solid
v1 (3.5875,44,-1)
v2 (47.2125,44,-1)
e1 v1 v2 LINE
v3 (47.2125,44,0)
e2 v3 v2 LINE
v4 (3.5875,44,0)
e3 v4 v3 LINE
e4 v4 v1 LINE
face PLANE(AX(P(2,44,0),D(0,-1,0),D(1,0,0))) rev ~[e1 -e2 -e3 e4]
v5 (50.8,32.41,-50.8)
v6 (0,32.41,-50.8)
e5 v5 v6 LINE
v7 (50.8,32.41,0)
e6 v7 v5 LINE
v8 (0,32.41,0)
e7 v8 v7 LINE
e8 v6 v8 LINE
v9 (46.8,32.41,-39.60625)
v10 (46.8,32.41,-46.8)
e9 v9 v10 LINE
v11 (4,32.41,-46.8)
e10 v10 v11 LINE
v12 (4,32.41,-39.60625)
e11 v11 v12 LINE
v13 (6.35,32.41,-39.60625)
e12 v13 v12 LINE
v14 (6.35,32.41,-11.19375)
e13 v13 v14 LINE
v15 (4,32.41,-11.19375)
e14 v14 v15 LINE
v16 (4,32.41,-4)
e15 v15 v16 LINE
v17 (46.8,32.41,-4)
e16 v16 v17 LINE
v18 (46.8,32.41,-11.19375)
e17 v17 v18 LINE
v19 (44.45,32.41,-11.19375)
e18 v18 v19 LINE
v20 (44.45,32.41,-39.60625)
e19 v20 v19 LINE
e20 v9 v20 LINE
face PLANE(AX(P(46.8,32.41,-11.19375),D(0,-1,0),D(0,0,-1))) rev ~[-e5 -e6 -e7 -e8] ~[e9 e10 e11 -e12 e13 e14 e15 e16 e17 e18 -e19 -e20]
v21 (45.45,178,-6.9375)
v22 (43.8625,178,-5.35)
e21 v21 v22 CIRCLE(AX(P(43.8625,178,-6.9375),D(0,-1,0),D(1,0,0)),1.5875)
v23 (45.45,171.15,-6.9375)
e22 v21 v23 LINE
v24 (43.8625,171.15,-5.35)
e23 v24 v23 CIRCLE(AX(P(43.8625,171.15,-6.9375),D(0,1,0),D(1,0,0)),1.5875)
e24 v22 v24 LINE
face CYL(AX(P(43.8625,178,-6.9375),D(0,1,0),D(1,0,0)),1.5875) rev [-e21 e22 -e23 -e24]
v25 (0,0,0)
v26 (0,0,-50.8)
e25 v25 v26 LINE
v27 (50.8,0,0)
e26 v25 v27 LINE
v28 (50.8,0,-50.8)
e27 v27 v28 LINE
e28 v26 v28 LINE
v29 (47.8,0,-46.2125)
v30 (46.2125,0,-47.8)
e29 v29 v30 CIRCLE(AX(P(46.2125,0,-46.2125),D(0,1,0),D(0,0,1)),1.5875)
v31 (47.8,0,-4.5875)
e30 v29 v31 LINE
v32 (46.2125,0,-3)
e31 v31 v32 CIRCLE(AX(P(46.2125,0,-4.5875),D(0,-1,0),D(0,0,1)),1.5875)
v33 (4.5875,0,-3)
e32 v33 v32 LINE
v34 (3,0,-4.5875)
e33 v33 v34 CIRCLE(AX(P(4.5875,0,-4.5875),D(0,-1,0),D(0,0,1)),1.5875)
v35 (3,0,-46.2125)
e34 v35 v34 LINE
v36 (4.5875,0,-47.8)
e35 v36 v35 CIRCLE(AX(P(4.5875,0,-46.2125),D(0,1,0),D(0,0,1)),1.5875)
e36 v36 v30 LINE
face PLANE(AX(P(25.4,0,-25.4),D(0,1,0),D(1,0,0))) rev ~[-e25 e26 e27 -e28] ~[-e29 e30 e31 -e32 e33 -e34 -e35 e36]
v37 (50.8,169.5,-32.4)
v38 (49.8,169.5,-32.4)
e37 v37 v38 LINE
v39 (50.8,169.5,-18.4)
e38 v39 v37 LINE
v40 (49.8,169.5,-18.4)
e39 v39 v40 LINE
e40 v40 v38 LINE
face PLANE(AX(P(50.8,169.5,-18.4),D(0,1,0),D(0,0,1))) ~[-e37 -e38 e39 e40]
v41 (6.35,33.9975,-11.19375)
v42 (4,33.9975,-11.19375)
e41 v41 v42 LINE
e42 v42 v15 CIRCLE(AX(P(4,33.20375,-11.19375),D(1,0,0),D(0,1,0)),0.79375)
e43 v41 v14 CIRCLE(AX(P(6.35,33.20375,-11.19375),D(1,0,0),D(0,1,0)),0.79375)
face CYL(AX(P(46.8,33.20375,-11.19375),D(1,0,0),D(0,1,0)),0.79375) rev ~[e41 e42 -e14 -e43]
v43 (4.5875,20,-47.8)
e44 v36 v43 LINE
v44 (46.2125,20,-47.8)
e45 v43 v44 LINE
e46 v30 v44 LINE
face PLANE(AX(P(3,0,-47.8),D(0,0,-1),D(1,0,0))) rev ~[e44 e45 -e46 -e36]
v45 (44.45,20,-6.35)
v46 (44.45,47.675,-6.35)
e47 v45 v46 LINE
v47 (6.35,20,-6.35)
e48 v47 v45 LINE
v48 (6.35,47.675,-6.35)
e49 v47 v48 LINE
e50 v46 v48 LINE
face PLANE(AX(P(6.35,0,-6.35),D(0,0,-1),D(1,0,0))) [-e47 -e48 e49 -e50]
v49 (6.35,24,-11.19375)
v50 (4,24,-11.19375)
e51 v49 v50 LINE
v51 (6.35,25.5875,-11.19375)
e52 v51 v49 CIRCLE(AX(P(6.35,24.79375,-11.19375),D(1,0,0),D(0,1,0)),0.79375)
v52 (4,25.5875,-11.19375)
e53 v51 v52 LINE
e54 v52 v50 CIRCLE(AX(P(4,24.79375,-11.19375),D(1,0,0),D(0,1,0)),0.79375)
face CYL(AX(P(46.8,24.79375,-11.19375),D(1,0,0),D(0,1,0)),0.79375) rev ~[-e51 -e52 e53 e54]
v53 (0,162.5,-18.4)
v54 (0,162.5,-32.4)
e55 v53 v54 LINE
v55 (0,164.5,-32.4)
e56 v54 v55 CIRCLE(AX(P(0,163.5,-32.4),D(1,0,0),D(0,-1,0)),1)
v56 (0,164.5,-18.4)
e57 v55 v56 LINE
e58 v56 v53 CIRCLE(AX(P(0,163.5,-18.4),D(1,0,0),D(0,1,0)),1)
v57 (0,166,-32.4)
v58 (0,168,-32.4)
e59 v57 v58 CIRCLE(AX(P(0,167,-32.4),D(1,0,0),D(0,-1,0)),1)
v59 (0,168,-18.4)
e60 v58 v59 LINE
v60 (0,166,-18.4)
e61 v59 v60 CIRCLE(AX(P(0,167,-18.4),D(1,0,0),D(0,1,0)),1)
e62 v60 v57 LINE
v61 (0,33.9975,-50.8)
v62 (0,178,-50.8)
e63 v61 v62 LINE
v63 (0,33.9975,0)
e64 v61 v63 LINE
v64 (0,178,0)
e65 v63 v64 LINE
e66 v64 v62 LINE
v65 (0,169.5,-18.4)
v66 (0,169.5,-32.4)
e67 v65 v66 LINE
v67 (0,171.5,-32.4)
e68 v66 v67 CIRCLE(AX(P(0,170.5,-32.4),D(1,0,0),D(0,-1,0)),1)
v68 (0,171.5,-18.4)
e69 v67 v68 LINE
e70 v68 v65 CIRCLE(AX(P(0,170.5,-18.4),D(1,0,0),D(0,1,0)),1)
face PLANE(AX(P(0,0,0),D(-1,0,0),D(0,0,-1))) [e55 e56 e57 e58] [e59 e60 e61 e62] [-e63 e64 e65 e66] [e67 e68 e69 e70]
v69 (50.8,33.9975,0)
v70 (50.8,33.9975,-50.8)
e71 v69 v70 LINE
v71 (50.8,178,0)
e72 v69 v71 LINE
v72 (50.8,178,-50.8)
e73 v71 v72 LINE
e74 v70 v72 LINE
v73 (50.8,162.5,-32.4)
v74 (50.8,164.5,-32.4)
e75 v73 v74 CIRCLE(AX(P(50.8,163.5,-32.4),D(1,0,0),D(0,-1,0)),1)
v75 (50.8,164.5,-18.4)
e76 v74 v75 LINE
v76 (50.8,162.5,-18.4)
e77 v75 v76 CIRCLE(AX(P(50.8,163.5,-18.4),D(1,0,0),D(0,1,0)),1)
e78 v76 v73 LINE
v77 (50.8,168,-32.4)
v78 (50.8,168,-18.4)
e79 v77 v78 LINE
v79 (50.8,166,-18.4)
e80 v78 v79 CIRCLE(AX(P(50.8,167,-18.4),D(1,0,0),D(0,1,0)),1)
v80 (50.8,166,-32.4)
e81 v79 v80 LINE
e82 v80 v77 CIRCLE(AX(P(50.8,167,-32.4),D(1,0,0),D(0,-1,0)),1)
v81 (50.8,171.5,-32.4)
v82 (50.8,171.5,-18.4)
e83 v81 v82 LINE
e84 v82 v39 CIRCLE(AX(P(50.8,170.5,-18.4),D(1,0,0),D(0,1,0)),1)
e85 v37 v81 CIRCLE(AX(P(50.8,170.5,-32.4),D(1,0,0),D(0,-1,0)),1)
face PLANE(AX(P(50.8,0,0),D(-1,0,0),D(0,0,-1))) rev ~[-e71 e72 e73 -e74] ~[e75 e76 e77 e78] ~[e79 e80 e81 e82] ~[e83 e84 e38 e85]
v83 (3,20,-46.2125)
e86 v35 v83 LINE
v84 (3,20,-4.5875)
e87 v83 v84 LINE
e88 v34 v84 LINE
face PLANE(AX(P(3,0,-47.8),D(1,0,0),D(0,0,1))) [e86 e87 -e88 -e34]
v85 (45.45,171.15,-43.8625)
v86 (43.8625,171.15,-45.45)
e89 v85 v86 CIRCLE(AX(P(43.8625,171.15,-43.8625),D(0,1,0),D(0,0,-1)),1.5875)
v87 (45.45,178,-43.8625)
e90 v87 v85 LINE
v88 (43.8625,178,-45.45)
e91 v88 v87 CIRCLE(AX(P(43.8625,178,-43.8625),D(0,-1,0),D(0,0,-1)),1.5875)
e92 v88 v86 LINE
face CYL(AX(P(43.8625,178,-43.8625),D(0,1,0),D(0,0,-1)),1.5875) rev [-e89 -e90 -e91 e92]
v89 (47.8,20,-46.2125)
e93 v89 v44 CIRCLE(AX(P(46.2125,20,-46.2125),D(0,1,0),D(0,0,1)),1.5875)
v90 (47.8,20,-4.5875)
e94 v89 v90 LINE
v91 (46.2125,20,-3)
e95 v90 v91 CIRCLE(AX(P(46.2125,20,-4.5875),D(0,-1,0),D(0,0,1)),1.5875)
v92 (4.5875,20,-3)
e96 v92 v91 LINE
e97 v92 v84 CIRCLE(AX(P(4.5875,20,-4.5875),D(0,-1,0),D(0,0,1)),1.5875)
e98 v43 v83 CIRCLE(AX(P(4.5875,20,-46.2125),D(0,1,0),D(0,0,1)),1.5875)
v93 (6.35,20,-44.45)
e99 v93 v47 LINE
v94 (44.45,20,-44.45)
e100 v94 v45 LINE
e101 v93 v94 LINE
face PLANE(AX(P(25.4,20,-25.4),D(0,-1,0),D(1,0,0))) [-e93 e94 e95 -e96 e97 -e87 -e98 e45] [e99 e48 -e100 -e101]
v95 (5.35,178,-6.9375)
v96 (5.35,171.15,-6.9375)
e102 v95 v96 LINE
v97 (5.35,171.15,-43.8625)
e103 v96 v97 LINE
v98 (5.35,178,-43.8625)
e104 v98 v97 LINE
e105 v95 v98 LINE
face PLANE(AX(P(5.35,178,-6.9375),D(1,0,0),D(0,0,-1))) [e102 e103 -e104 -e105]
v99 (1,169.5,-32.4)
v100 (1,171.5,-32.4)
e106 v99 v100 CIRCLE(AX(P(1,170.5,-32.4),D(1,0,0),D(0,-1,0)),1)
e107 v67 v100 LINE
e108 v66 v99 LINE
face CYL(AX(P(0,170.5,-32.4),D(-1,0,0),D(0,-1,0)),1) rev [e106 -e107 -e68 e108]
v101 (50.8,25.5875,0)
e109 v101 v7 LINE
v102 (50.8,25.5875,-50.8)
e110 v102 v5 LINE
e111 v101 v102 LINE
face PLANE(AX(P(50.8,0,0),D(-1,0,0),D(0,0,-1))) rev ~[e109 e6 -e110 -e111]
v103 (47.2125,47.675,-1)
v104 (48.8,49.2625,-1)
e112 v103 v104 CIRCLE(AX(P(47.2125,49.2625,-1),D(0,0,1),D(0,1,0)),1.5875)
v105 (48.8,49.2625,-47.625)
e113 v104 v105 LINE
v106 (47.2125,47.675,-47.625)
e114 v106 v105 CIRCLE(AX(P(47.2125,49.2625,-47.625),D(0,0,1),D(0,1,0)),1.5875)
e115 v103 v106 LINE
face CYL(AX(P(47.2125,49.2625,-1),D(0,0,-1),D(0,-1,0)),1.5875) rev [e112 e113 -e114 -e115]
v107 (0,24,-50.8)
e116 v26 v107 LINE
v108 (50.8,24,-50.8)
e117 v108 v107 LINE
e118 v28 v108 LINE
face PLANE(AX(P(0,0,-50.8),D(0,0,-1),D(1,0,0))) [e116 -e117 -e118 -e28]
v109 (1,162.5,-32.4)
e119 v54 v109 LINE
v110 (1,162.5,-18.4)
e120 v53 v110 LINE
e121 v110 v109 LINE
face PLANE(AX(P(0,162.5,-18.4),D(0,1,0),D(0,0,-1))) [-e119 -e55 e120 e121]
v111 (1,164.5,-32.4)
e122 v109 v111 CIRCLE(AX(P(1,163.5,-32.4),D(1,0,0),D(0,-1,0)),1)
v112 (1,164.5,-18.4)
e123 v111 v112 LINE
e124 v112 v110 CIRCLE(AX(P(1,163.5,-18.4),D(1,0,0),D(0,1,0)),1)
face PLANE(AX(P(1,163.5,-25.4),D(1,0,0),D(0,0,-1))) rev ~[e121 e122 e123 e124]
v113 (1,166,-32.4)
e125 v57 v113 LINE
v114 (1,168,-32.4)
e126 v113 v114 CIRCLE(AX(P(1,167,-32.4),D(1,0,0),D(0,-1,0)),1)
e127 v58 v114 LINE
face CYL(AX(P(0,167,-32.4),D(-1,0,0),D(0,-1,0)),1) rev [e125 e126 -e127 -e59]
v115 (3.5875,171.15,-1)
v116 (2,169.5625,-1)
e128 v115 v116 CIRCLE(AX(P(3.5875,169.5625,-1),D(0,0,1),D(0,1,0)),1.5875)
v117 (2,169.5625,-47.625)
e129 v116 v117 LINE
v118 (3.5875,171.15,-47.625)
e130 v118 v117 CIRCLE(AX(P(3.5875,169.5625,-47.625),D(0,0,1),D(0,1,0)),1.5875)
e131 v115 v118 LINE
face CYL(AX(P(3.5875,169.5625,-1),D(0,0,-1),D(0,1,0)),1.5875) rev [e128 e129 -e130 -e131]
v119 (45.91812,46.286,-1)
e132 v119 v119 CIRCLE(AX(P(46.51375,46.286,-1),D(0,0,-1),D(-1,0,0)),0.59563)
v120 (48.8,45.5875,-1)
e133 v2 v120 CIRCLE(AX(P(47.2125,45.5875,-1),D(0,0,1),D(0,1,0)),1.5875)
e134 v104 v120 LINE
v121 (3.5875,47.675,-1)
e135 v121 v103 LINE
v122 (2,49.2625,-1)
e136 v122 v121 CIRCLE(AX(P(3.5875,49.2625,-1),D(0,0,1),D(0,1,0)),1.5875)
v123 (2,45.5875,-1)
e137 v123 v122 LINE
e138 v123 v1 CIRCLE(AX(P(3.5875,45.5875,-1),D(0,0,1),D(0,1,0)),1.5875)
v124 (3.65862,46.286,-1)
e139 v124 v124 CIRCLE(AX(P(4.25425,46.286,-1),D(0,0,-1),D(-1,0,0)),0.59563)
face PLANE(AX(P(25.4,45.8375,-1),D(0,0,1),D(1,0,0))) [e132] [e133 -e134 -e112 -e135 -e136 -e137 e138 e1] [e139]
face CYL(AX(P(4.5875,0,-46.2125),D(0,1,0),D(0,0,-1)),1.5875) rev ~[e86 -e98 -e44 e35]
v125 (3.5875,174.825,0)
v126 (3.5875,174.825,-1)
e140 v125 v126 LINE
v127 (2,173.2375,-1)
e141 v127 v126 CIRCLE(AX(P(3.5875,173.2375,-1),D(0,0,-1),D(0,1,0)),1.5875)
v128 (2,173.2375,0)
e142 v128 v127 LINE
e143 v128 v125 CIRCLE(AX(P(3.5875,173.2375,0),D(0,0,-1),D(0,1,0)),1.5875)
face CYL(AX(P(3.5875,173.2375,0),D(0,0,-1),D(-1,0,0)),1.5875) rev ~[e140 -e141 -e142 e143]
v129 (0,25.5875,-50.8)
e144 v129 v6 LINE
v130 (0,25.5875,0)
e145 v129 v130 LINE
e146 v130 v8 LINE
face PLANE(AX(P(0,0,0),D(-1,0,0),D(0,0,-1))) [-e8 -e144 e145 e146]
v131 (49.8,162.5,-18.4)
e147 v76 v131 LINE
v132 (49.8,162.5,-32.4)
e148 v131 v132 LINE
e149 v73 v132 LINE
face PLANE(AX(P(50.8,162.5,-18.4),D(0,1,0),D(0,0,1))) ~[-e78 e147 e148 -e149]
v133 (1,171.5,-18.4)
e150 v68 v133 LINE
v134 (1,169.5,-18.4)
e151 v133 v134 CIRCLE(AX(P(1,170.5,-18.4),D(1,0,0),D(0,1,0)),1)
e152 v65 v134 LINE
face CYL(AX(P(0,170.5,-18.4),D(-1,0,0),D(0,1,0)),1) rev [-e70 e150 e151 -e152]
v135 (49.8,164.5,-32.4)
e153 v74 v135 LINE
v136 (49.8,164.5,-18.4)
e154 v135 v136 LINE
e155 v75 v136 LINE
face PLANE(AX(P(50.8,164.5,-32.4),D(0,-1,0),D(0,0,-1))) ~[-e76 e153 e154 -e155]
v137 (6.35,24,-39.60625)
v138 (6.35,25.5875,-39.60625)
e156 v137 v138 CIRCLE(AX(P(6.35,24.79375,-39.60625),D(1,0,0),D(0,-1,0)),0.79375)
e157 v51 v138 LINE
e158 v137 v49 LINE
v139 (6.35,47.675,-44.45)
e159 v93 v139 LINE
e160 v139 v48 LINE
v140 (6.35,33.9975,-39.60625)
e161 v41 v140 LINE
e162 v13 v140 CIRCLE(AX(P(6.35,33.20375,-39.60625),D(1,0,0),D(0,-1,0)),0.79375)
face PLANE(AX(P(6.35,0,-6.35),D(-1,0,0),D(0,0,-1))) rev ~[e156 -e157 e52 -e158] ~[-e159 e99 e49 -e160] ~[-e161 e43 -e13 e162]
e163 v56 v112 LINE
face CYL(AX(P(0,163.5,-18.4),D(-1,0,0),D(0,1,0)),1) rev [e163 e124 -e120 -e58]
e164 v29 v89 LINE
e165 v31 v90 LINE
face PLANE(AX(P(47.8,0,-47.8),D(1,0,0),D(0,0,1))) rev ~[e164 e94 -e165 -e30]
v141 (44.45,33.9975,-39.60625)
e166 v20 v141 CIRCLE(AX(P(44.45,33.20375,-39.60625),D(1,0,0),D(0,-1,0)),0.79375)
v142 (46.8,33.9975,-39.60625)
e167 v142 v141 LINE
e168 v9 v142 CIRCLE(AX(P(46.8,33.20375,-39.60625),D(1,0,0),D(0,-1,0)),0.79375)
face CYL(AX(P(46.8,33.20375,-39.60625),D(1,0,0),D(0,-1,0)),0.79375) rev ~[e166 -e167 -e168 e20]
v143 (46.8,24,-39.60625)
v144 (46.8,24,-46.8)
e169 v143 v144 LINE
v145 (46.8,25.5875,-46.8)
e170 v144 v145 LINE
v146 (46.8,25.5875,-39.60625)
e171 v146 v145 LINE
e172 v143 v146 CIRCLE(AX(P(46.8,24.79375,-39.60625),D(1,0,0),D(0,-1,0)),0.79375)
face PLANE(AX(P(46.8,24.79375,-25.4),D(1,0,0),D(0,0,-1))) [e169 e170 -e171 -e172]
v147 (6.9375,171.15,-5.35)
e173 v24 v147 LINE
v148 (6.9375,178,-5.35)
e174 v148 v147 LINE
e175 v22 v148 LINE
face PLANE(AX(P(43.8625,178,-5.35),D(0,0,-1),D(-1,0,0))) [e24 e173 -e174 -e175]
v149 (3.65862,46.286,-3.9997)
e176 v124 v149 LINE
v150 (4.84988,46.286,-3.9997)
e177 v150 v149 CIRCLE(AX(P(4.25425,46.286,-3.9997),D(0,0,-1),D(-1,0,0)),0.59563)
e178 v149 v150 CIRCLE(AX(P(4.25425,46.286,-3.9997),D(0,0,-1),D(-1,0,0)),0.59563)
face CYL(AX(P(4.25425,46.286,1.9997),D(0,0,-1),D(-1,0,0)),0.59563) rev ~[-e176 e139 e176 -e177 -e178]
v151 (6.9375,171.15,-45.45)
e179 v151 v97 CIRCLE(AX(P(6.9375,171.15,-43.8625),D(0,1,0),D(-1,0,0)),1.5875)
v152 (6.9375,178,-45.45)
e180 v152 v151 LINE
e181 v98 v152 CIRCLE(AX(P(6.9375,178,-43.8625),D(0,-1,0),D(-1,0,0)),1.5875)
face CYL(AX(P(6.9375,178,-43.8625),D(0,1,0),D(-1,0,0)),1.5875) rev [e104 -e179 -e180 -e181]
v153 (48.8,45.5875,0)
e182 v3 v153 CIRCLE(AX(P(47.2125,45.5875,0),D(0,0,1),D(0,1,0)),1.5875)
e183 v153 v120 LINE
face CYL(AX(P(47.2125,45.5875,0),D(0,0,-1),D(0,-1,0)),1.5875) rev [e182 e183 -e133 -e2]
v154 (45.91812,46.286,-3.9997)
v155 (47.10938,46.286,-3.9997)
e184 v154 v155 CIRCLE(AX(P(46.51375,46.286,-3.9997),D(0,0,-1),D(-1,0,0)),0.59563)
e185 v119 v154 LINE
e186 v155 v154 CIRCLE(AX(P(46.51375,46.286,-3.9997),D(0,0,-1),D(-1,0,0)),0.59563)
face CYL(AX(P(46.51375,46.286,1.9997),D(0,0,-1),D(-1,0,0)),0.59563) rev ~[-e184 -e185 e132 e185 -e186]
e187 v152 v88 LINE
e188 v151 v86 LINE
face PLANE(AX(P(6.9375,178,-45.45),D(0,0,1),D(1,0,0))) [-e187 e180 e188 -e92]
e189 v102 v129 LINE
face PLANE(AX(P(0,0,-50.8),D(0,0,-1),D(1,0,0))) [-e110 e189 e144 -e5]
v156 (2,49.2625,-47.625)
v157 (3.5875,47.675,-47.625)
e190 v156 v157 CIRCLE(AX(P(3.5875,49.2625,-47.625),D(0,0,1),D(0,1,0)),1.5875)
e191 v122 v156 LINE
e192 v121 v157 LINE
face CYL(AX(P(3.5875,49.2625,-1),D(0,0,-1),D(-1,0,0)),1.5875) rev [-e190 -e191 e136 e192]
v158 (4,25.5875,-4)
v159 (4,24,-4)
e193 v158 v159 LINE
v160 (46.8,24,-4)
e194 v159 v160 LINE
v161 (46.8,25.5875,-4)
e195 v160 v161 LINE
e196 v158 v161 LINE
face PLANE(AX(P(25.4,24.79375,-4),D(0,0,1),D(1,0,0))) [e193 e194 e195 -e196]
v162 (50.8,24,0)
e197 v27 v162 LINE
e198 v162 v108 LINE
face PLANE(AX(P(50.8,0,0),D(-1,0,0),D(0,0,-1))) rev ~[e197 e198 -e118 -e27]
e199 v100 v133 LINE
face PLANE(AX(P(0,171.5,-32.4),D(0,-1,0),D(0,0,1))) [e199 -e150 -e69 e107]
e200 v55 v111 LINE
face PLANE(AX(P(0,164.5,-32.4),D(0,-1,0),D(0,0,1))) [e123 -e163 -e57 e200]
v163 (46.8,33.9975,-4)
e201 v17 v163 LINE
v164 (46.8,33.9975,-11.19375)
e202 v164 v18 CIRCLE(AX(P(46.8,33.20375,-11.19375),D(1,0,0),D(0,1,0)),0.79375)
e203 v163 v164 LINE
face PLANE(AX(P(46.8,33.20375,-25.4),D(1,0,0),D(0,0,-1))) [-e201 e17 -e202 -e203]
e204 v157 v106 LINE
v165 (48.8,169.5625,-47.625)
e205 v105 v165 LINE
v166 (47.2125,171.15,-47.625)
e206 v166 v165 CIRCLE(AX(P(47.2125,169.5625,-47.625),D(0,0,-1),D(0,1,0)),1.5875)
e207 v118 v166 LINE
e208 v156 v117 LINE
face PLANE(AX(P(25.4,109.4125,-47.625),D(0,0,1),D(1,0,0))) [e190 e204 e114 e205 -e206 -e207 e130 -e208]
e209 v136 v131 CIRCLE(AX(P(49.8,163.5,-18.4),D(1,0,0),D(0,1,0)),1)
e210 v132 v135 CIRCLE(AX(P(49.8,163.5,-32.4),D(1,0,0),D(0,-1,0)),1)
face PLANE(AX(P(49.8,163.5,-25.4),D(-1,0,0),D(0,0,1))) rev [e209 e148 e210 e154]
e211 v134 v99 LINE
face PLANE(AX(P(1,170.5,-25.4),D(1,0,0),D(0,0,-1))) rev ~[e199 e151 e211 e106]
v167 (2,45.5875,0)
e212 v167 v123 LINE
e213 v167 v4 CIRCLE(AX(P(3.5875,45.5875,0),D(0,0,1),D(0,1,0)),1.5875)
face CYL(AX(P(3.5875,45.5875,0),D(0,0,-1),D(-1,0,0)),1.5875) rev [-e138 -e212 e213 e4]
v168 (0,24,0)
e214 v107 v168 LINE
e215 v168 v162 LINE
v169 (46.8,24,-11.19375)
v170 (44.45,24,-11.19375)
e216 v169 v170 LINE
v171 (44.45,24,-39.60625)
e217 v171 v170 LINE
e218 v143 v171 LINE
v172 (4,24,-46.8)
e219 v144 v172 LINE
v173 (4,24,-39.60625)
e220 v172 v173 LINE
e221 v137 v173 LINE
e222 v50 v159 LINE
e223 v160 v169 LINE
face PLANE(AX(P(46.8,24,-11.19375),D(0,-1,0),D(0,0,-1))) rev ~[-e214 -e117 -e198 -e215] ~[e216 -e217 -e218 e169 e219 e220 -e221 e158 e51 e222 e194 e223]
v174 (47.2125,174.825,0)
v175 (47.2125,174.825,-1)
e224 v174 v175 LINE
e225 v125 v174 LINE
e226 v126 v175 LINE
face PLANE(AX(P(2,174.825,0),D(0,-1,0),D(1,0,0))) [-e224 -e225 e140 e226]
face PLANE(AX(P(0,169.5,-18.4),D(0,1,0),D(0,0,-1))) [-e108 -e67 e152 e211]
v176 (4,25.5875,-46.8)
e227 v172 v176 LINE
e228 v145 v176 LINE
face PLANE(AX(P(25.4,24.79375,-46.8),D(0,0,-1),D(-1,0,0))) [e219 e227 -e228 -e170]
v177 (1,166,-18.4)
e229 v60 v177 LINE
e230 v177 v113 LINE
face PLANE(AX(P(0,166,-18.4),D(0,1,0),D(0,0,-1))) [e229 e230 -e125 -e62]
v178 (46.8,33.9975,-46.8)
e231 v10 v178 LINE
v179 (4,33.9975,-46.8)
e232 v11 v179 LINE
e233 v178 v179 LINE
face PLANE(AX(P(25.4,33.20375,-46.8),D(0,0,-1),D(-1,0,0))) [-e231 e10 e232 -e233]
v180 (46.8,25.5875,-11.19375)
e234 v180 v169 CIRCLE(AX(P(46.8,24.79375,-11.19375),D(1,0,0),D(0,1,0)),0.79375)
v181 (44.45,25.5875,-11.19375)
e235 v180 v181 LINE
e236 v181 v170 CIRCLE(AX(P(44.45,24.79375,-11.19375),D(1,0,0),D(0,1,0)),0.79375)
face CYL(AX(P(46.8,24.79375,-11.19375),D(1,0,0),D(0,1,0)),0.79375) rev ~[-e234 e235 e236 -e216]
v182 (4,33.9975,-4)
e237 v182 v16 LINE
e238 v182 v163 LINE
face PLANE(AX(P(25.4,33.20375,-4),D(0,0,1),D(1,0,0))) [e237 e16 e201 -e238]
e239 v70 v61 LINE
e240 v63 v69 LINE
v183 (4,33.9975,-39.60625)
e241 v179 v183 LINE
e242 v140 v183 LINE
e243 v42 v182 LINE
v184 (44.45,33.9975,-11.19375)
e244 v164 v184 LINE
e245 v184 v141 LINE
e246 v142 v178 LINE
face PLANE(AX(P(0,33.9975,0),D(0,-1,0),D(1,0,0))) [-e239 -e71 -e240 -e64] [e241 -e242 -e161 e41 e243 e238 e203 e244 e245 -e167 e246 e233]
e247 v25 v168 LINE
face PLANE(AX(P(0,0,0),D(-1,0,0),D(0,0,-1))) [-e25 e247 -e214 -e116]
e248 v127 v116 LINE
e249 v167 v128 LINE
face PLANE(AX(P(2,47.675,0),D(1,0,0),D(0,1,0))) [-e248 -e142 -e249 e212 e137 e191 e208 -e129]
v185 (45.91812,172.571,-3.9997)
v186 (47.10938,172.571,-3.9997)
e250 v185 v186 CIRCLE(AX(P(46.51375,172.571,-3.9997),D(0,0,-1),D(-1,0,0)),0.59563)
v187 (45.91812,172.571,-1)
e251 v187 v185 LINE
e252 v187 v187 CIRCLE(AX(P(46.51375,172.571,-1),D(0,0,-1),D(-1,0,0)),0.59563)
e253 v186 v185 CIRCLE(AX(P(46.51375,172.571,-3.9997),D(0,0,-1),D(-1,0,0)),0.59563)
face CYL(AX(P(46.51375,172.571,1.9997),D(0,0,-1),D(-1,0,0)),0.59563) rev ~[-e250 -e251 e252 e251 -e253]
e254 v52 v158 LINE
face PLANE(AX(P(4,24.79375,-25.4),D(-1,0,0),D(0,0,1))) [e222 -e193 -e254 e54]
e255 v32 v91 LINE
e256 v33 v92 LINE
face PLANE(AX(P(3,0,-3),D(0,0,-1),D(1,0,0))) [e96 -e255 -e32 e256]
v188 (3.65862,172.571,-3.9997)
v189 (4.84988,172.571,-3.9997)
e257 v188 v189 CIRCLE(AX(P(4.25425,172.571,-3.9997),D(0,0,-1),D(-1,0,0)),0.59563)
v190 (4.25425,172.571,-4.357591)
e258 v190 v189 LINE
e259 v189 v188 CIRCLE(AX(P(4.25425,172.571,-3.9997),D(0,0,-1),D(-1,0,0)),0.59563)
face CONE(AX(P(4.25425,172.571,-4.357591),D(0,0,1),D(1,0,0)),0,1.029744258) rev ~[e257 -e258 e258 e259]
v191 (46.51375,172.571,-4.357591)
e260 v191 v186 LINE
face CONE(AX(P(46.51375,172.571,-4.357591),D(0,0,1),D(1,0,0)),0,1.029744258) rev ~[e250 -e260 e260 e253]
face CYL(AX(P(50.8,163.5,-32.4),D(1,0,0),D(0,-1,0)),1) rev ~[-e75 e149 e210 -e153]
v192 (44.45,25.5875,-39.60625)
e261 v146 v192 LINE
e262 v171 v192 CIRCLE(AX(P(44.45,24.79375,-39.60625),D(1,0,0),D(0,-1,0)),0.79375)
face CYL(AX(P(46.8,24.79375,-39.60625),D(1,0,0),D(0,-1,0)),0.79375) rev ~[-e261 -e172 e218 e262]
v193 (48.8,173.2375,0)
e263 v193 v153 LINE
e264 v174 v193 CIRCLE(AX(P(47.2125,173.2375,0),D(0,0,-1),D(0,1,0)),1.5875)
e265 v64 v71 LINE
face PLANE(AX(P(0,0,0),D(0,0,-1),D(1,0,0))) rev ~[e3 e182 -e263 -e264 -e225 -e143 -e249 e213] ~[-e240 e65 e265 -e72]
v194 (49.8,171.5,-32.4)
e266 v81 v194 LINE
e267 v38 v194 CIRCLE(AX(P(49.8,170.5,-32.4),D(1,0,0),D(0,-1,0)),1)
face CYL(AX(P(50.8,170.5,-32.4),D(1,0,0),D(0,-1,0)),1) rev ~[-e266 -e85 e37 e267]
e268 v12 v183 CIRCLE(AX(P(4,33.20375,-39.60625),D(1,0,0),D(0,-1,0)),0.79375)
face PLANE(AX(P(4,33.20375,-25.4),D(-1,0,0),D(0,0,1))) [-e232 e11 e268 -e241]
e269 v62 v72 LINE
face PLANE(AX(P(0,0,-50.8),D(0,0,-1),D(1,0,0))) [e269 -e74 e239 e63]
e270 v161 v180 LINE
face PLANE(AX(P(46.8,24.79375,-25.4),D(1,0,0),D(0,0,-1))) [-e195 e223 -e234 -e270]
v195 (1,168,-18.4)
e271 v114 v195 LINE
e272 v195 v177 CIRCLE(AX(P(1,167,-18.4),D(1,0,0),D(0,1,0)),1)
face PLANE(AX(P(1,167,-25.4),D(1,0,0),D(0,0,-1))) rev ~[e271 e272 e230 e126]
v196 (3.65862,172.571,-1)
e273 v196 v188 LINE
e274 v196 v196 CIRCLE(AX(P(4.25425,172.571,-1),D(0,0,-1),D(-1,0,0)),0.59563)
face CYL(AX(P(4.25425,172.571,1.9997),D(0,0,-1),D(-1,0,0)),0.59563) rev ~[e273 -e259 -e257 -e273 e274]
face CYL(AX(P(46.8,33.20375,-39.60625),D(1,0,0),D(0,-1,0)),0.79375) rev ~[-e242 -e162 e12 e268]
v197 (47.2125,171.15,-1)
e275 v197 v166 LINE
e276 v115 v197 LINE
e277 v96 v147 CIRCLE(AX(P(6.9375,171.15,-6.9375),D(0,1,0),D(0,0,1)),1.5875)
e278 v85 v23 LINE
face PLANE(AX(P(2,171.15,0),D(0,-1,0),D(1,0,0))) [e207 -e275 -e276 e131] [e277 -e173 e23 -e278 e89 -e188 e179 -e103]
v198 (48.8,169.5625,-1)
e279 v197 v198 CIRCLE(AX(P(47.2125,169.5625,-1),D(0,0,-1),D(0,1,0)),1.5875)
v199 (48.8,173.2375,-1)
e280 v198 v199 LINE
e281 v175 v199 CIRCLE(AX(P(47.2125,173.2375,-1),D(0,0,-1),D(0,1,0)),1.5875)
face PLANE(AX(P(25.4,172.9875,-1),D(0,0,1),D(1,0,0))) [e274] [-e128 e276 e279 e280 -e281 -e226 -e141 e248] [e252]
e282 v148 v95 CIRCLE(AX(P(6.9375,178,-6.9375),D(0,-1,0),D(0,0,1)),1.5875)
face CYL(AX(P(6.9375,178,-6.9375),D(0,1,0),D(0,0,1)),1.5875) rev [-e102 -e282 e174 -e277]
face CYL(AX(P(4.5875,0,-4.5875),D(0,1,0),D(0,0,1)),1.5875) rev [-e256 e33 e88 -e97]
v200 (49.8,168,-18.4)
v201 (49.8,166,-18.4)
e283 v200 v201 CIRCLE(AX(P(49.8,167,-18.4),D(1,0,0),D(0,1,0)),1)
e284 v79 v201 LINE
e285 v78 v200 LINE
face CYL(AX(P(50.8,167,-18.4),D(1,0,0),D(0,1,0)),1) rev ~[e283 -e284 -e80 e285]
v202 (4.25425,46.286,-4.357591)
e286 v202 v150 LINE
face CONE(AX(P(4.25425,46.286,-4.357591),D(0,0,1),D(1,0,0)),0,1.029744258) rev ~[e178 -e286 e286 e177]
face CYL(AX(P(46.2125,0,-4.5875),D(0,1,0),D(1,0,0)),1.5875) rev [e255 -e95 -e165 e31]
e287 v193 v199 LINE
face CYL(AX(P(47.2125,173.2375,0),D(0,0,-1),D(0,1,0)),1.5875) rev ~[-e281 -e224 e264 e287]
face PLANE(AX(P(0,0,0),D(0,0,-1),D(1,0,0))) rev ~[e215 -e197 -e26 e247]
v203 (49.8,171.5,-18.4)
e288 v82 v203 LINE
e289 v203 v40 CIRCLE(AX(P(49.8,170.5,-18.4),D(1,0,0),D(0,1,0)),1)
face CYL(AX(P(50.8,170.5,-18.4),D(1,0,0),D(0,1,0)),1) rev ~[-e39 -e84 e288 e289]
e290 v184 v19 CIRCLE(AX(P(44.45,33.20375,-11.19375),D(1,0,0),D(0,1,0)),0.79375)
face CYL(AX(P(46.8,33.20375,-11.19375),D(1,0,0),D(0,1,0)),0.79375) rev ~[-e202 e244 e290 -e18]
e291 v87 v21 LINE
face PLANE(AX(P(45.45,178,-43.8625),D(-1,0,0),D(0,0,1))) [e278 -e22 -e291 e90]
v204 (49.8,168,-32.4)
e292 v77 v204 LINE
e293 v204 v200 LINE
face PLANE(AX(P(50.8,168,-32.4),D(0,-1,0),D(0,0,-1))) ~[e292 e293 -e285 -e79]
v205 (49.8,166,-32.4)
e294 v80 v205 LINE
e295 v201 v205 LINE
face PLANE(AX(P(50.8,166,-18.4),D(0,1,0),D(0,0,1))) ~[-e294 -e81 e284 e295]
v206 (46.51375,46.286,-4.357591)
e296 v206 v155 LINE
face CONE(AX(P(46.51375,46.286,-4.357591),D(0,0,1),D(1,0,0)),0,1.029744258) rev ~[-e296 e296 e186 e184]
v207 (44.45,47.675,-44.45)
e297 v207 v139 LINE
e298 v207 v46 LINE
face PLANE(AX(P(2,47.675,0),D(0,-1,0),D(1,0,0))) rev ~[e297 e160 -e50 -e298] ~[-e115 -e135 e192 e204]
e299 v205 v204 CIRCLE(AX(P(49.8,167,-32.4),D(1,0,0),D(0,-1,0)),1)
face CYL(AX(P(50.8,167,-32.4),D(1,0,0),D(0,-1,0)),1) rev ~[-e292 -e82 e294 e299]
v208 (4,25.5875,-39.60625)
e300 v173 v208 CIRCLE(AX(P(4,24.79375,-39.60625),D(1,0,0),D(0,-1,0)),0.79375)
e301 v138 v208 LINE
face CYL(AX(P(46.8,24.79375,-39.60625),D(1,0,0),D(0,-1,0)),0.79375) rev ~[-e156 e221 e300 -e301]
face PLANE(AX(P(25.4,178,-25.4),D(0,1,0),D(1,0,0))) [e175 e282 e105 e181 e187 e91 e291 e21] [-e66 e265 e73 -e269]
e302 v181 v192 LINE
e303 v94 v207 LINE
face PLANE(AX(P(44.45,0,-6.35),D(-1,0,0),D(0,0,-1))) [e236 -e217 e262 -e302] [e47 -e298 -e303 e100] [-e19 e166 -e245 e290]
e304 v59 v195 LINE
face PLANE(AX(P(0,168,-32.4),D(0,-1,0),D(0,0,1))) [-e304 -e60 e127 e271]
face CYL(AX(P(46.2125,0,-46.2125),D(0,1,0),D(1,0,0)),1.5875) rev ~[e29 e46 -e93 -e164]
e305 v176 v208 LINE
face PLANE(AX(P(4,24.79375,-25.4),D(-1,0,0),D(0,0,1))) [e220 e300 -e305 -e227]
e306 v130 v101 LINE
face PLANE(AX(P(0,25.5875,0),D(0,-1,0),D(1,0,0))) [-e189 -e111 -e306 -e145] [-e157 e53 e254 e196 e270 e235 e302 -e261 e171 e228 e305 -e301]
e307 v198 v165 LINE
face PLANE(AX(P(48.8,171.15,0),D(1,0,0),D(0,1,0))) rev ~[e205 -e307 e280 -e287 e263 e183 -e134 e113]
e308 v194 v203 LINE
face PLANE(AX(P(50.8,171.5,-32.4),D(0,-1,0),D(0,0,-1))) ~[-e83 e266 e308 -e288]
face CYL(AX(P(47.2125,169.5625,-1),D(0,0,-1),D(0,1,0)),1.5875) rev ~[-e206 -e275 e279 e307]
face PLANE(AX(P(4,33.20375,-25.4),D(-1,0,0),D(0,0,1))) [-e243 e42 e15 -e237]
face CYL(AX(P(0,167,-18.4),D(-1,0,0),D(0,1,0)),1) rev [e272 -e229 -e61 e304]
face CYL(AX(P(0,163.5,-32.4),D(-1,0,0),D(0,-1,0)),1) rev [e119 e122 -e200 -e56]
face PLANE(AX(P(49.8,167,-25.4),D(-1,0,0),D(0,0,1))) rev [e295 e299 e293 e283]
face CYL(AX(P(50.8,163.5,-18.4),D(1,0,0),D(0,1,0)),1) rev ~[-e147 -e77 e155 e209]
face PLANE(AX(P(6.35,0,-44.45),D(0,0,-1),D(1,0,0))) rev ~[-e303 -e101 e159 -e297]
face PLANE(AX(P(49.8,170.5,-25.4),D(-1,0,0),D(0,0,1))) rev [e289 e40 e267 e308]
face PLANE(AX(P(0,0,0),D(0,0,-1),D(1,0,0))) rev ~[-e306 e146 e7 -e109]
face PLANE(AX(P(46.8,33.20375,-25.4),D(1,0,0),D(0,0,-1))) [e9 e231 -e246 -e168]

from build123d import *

# Parameters (mm, degrees)
SKETCH1_W                 = 50.8
SKETCH1_H                 = 50.8
SKETCH1_W_2               = 38.1
SKETCH1_H_2               = 38.1
BOSS_EXTRUDE1_DEPTH       = 178
SKETCH2_W                 = 44.8
SKETCH2_H                 = 44.8
SKETCH2_W_2               = 38.1
SKETCH2_H_2               = 38.1
CUT_EXTRUDE1_DEPTH        = 20
SKETCH3_W                 = 46.8
SKETCH3_H                 = 123.47500012
CUT_EXTRUDE2_DEPTH        = 47.625
CUT_EXTRUDE5_DEPTH        = 1
SKETCH7_W                 = 46.8
SKETCH7_H                 = 3.675
CUT_EXTRUDE6_DEPTH        = 1
FILLET1_R                 = 1.5875
CUT_EXTRUDE7_REACH        = 193.951
F_0_80_TAPPED_HOLE1_D     = 1.19126
F_0_80_TAPPED_HOLE1_DEPTH = 2.9997
F_0_80_TAPPED_HOLE1_TIP   = 0.357890611
SKETCH19_W                = 50.8
SKETCH19_H                = 1.5875
CUT_EXTRUDE12_DEPTH       = 4
CIRPATTERN1_COUNT         = 4
CUT_EXTRUDE13_DEPTH       = 191.931610793
LPATTERN1_COUNT           = 2
LPATTERN1_PITCH           = 8.41
LPATTERN1_COPY_1_SKETCH_W = 50.8
LPATTERN1_COPY_1_SKETCH_H = 1.5875
LPATTERN1_COPY_1_DEPTH    = 4
LPATTERN1_COPY_2_SKETCH_W = 50.8
LPATTERN1_COPY_2_SKETCH_H = 1.5875
LPATTERN1_COPY_2_DEPTH    = 4
LPATTERN1_COPY_3_SKETCH_W = 50.8
LPATTERN1_COPY_3_SKETCH_H = 1.5875
LPATTERN1_COPY_3_DEPTH    = 4


with BuildPart() as part:
    # Sketch1 → Boss-Extrude1 (new body)
    with BuildSketch(Plane(origin=(0, 0, 0), x_dir=(1, 0, 0), z_dir=(0, 1, 0))):
        with Locations((25.4, 25.4)):
            Rectangle(SKETCH1_W, SKETCH1_H)
        with Locations((25.4, 25.4)):
            Rectangle(SKETCH1_W_2, SKETCH1_H_2, mode=Mode.SUBTRACT)
    extrude(amount=BOSS_EXTRUDE1_DEPTH)

    # Sketch2 → Cut-Extrude1 (cut)
    with BuildSketch(Plane.XZ):
        with Locations((25.4, -25.4)):
            Rectangle(SKETCH2_W, SKETCH2_H)
        with Locations((25.4, -25.4)):
            Rectangle(SKETCH2_W_2, SKETCH2_H_2, mode=Mode.SUBTRACT)
    extrude(amount=-CUT_EXTRUDE1_DEPTH, mode=Mode.SUBTRACT)

    # Sketch3 → Cut-Extrude2 (cut)
    with BuildSketch(Plane.XY):
        with Locations((25.4, 109.41249994)):
            Rectangle(SKETCH3_W, SKETCH3_H)
    extrude(amount=-CUT_EXTRUDE2_DEPTH, mode=Mode.SUBTRACT)

    # Sketch6 → Cut-Extrude5 (cut)
    with BuildSketch(Plane.ZY):
        with BuildLine():
            Line((-32.4, 171.5), (-18.4, 171.5))
            ThreePointArc((-18.4, 171.5), (-17.4, 170.5), (-18.4, 169.5))
            Line((-18.4, 169.5), (-32.4, 169.5))
            ThreePointArc((-32.4, 169.5), (-33.4, 170.5), (-32.4, 171.5))
        make_face()
        with BuildLine():
            Line((-32.4, 168), (-18.4, 168))
            ThreePointArc((-18.4, 168), (-17.4, 167), (-18.4, 166))
            Line((-18.4, 166), (-32.4, 166))
            ThreePointArc((-32.4, 166), (-33.4, 167), (-32.4, 168))
        make_face()
        with BuildLine():
            Line((-32.4, 164.5), (-18.4, 164.5))
            ThreePointArc((-18.4, 164.5), (-17.4, 163.5), (-18.4, 162.5))
            Line((-18.4, 162.5), (-32.4, 162.5))
            ThreePointArc((-32.4, 162.5), (-33.4, 163.5), (-32.4, 164.5))
        make_face()
    cut_extrude5 = extrude(amount=-CUT_EXTRUDE5_DEPTH, mode=Mode.SUBTRACT)

    # Mirror2: Cut-Extrude5 across plane
    add(cut_extrude5.mirror(Plane.ZY.offset(-25.4)), mode=Mode.SUBTRACT)

    # Sketch7 → Cut-Extrude6 (cut)
    with BuildSketch(Plane.XY):
        with Locations((25.4, 172.9875)):
            Rectangle(SKETCH7_W, SKETCH7_H)
        with Locations((25.4, 45.83749988)):
            Rectangle(SKETCH7_W, SKETCH7_H)
    extrude(amount=-CUT_EXTRUDE6_DEPTH, mode=Mode.SUBTRACT)

    # Fillet1
    fillet1_edges = [part.edges().sort_by_distance(p)[0] for p in [
        (47.8, 10, -47.8),
        (47.8, 10, -3),
        (3, 10, -47.8),
        (3, 10, -3),
        (48.8, 47.67499988, -24.3125),
        (2, 47.67499988, -24.3125),
        (48.8, 171.15, -24.3125),
        (2, 171.15, -24.3125),
        (48.8, 174.825, -0.5),
        (2, 174.825, -0.5),
        (48.8, 43.99999988, -0.5),
        (2, 43.99999988, -0.5),
    ]]
    fillet(fillet1_edges, radius=FILLET1_R)

    # Sketch8 → Cut-Extrude7 (cut, up to next)
    with BuildSketch(Plane(origin=(0, 178, 0), x_dir=(1, 0, 0), z_dir=(0, 1, 0)), mode=Mode.PRIVATE) as cut_extrude7_sk1:
        with BuildLine():
            Line((6.9375, 45.45), (43.8625, 45.45))
            ThreePointArc((43.8625, 45.45), (44.985032015, 44.985032015), (45.45, 43.8625))
            Line((45.45, 43.8625), (45.45, 6.9375))
            ThreePointArc((45.45, 6.9375), (44.985032015, 5.814967985), (43.8625, 5.35))
            Line((43.8625, 5.35), (6.9375, 5.35))
            ThreePointArc((6.9375, 5.35), (5.814967985, 5.814967985), (5.35, 6.9375))
            Line((5.35, 6.9375), (5.35, 43.8625))
            ThreePointArc((5.35, 43.8625), (5.814967985, 44.985032015), (6.9375, 45.45))
        make_face()
    cut_extrude7_tool1 = extrude(cut_extrude7_sk1.sketch, amount=-CUT_EXTRUDE7_REACH, mode=Mode.PRIVATE) & part.part
    add(cut_extrude7_tool1.solids().sort_by_distance((25.4, 178, -25.4))[0], mode=Mode.SUBTRACT)

    # #0-80 Tapped Hole1
    with Locations(Plane.XY.offset(-1)):
        with Locations((4.25425, 172.571000052), (46.51375, 172.571000052), (4.25425, 46.285999828), (46.51375, 46.285999828)):
            Hole(F_0_80_TAPPED_HOLE1_D / 2, depth=F_0_80_TAPPED_HOLE1_DEPTH)
            with Locations((0, 0, -(F_0_80_TAPPED_HOLE1_DEPTH + F_0_80_TAPPED_HOLE1_TIP / 2))):  # 118° drill point
                Cone(0, F_0_80_TAPPED_HOLE1_D / 2, F_0_80_TAPPED_HOLE1_TIP, mode=Mode.SUBTRACT)

    # Sketch19 → Cut-Extrude12 (cut)
    with BuildSketch(Plane.XY):
        with Locations((25.4, 24.79375)):
            Rectangle(SKETCH19_W, SKETCH19_H)
    cut_extrude12 = extrude(amount=-CUT_EXTRUDE12_DEPTH, mode=Mode.SUBTRACT)

    # CirPattern1: Cut-Extrude12 ×4 about axis
    cirpattern1_axis = Axis((25.4, 29.542937729, -25.4), (0, -1, 0))
    for i in range(1, CIRPATTERN1_COUNT):
        add(cut_extrude12.rotate(cirpattern1_axis, i * 360 / CIRPATTERN1_COUNT), mode=Mode.SUBTRACT)

    # Sketch20 → Cut-Extrude13 (cut, through all)
    with BuildSketch(Plane(origin=(46.8, 0, -50.8), x_dir=(0, 0, 1), z_dir=(-1, 0, 0))):
        with BuildLine():
            Line((11.19375, 25.5875), (39.60625, 25.5875))
            ThreePointArc((39.60625, 25.5875), (40.4, 24.79375), (39.60625, 24))
            Line((39.60625, 24), (11.19375, 24))
            ThreePointArc((11.19375, 24), (10.4, 24.79375), (11.19375, 25.5875))
        make_face()
    cut_extrude13 = extrude(amount=CUT_EXTRUDE13_DEPTH, mode=Mode.SUBTRACT)

    # LPattern1: Cut-Extrude12, Cut-Extrude13 ×2
    with Locations(*[(0, i * LPATTERN1_PITCH, 0) for i in range(1, LPATTERN1_COUNT)]):
        add(cut_extrude12, mode=Mode.SUBTRACT)
        add(cut_extrude13, mode=Mode.SUBTRACT)

    # LPattern1 copy 1 sketch → LPattern1 copy 1 (cut)
    with BuildSketch(Plane(origin=(0, 8.41, -50.8), x_dir=(0, 0, 1), z_dir=(-1, 0, 0))):
        with Locations((25.4, 24.79375)):
            Rectangle(LPATTERN1_COPY_1_SKETCH_W, LPATTERN1_COPY_1_SKETCH_H)
    extrude(amount=-LPATTERN1_COPY_1_DEPTH, mode=Mode.SUBTRACT)

    # LPattern1 copy 2 sketch → LPattern1 copy 2 (cut)
    with BuildSketch(Plane(origin=(50.8, 8.41, -50.8), x_dir=(-1, 0, 0), z_dir=(0, 0, -1))):
        with Locations((25.4, 24.79375)):
            Rectangle(LPATTERN1_COPY_2_SKETCH_W, LPATTERN1_COPY_2_SKETCH_H)
    extrude(amount=-LPATTERN1_COPY_2_DEPTH, mode=Mode.SUBTRACT)

    # LPattern1 copy 3 sketch → LPattern1 copy 3 (cut)
    with BuildSketch(Plane(origin=(50.8, 8.41, 0), x_dir=(0, 0, -1), z_dir=(1, 0, 0))):
        with Locations((25.4, 24.79375)):
            Rectangle(LPATTERN1_COPY_3_SKETCH_W, LPATTERN1_COPY_3_SKETCH_H)
    extrude(amount=-LPATTERN1_COPY_3_DEPTH, mode=Mode.SUBTRACT)


solid = part.part
